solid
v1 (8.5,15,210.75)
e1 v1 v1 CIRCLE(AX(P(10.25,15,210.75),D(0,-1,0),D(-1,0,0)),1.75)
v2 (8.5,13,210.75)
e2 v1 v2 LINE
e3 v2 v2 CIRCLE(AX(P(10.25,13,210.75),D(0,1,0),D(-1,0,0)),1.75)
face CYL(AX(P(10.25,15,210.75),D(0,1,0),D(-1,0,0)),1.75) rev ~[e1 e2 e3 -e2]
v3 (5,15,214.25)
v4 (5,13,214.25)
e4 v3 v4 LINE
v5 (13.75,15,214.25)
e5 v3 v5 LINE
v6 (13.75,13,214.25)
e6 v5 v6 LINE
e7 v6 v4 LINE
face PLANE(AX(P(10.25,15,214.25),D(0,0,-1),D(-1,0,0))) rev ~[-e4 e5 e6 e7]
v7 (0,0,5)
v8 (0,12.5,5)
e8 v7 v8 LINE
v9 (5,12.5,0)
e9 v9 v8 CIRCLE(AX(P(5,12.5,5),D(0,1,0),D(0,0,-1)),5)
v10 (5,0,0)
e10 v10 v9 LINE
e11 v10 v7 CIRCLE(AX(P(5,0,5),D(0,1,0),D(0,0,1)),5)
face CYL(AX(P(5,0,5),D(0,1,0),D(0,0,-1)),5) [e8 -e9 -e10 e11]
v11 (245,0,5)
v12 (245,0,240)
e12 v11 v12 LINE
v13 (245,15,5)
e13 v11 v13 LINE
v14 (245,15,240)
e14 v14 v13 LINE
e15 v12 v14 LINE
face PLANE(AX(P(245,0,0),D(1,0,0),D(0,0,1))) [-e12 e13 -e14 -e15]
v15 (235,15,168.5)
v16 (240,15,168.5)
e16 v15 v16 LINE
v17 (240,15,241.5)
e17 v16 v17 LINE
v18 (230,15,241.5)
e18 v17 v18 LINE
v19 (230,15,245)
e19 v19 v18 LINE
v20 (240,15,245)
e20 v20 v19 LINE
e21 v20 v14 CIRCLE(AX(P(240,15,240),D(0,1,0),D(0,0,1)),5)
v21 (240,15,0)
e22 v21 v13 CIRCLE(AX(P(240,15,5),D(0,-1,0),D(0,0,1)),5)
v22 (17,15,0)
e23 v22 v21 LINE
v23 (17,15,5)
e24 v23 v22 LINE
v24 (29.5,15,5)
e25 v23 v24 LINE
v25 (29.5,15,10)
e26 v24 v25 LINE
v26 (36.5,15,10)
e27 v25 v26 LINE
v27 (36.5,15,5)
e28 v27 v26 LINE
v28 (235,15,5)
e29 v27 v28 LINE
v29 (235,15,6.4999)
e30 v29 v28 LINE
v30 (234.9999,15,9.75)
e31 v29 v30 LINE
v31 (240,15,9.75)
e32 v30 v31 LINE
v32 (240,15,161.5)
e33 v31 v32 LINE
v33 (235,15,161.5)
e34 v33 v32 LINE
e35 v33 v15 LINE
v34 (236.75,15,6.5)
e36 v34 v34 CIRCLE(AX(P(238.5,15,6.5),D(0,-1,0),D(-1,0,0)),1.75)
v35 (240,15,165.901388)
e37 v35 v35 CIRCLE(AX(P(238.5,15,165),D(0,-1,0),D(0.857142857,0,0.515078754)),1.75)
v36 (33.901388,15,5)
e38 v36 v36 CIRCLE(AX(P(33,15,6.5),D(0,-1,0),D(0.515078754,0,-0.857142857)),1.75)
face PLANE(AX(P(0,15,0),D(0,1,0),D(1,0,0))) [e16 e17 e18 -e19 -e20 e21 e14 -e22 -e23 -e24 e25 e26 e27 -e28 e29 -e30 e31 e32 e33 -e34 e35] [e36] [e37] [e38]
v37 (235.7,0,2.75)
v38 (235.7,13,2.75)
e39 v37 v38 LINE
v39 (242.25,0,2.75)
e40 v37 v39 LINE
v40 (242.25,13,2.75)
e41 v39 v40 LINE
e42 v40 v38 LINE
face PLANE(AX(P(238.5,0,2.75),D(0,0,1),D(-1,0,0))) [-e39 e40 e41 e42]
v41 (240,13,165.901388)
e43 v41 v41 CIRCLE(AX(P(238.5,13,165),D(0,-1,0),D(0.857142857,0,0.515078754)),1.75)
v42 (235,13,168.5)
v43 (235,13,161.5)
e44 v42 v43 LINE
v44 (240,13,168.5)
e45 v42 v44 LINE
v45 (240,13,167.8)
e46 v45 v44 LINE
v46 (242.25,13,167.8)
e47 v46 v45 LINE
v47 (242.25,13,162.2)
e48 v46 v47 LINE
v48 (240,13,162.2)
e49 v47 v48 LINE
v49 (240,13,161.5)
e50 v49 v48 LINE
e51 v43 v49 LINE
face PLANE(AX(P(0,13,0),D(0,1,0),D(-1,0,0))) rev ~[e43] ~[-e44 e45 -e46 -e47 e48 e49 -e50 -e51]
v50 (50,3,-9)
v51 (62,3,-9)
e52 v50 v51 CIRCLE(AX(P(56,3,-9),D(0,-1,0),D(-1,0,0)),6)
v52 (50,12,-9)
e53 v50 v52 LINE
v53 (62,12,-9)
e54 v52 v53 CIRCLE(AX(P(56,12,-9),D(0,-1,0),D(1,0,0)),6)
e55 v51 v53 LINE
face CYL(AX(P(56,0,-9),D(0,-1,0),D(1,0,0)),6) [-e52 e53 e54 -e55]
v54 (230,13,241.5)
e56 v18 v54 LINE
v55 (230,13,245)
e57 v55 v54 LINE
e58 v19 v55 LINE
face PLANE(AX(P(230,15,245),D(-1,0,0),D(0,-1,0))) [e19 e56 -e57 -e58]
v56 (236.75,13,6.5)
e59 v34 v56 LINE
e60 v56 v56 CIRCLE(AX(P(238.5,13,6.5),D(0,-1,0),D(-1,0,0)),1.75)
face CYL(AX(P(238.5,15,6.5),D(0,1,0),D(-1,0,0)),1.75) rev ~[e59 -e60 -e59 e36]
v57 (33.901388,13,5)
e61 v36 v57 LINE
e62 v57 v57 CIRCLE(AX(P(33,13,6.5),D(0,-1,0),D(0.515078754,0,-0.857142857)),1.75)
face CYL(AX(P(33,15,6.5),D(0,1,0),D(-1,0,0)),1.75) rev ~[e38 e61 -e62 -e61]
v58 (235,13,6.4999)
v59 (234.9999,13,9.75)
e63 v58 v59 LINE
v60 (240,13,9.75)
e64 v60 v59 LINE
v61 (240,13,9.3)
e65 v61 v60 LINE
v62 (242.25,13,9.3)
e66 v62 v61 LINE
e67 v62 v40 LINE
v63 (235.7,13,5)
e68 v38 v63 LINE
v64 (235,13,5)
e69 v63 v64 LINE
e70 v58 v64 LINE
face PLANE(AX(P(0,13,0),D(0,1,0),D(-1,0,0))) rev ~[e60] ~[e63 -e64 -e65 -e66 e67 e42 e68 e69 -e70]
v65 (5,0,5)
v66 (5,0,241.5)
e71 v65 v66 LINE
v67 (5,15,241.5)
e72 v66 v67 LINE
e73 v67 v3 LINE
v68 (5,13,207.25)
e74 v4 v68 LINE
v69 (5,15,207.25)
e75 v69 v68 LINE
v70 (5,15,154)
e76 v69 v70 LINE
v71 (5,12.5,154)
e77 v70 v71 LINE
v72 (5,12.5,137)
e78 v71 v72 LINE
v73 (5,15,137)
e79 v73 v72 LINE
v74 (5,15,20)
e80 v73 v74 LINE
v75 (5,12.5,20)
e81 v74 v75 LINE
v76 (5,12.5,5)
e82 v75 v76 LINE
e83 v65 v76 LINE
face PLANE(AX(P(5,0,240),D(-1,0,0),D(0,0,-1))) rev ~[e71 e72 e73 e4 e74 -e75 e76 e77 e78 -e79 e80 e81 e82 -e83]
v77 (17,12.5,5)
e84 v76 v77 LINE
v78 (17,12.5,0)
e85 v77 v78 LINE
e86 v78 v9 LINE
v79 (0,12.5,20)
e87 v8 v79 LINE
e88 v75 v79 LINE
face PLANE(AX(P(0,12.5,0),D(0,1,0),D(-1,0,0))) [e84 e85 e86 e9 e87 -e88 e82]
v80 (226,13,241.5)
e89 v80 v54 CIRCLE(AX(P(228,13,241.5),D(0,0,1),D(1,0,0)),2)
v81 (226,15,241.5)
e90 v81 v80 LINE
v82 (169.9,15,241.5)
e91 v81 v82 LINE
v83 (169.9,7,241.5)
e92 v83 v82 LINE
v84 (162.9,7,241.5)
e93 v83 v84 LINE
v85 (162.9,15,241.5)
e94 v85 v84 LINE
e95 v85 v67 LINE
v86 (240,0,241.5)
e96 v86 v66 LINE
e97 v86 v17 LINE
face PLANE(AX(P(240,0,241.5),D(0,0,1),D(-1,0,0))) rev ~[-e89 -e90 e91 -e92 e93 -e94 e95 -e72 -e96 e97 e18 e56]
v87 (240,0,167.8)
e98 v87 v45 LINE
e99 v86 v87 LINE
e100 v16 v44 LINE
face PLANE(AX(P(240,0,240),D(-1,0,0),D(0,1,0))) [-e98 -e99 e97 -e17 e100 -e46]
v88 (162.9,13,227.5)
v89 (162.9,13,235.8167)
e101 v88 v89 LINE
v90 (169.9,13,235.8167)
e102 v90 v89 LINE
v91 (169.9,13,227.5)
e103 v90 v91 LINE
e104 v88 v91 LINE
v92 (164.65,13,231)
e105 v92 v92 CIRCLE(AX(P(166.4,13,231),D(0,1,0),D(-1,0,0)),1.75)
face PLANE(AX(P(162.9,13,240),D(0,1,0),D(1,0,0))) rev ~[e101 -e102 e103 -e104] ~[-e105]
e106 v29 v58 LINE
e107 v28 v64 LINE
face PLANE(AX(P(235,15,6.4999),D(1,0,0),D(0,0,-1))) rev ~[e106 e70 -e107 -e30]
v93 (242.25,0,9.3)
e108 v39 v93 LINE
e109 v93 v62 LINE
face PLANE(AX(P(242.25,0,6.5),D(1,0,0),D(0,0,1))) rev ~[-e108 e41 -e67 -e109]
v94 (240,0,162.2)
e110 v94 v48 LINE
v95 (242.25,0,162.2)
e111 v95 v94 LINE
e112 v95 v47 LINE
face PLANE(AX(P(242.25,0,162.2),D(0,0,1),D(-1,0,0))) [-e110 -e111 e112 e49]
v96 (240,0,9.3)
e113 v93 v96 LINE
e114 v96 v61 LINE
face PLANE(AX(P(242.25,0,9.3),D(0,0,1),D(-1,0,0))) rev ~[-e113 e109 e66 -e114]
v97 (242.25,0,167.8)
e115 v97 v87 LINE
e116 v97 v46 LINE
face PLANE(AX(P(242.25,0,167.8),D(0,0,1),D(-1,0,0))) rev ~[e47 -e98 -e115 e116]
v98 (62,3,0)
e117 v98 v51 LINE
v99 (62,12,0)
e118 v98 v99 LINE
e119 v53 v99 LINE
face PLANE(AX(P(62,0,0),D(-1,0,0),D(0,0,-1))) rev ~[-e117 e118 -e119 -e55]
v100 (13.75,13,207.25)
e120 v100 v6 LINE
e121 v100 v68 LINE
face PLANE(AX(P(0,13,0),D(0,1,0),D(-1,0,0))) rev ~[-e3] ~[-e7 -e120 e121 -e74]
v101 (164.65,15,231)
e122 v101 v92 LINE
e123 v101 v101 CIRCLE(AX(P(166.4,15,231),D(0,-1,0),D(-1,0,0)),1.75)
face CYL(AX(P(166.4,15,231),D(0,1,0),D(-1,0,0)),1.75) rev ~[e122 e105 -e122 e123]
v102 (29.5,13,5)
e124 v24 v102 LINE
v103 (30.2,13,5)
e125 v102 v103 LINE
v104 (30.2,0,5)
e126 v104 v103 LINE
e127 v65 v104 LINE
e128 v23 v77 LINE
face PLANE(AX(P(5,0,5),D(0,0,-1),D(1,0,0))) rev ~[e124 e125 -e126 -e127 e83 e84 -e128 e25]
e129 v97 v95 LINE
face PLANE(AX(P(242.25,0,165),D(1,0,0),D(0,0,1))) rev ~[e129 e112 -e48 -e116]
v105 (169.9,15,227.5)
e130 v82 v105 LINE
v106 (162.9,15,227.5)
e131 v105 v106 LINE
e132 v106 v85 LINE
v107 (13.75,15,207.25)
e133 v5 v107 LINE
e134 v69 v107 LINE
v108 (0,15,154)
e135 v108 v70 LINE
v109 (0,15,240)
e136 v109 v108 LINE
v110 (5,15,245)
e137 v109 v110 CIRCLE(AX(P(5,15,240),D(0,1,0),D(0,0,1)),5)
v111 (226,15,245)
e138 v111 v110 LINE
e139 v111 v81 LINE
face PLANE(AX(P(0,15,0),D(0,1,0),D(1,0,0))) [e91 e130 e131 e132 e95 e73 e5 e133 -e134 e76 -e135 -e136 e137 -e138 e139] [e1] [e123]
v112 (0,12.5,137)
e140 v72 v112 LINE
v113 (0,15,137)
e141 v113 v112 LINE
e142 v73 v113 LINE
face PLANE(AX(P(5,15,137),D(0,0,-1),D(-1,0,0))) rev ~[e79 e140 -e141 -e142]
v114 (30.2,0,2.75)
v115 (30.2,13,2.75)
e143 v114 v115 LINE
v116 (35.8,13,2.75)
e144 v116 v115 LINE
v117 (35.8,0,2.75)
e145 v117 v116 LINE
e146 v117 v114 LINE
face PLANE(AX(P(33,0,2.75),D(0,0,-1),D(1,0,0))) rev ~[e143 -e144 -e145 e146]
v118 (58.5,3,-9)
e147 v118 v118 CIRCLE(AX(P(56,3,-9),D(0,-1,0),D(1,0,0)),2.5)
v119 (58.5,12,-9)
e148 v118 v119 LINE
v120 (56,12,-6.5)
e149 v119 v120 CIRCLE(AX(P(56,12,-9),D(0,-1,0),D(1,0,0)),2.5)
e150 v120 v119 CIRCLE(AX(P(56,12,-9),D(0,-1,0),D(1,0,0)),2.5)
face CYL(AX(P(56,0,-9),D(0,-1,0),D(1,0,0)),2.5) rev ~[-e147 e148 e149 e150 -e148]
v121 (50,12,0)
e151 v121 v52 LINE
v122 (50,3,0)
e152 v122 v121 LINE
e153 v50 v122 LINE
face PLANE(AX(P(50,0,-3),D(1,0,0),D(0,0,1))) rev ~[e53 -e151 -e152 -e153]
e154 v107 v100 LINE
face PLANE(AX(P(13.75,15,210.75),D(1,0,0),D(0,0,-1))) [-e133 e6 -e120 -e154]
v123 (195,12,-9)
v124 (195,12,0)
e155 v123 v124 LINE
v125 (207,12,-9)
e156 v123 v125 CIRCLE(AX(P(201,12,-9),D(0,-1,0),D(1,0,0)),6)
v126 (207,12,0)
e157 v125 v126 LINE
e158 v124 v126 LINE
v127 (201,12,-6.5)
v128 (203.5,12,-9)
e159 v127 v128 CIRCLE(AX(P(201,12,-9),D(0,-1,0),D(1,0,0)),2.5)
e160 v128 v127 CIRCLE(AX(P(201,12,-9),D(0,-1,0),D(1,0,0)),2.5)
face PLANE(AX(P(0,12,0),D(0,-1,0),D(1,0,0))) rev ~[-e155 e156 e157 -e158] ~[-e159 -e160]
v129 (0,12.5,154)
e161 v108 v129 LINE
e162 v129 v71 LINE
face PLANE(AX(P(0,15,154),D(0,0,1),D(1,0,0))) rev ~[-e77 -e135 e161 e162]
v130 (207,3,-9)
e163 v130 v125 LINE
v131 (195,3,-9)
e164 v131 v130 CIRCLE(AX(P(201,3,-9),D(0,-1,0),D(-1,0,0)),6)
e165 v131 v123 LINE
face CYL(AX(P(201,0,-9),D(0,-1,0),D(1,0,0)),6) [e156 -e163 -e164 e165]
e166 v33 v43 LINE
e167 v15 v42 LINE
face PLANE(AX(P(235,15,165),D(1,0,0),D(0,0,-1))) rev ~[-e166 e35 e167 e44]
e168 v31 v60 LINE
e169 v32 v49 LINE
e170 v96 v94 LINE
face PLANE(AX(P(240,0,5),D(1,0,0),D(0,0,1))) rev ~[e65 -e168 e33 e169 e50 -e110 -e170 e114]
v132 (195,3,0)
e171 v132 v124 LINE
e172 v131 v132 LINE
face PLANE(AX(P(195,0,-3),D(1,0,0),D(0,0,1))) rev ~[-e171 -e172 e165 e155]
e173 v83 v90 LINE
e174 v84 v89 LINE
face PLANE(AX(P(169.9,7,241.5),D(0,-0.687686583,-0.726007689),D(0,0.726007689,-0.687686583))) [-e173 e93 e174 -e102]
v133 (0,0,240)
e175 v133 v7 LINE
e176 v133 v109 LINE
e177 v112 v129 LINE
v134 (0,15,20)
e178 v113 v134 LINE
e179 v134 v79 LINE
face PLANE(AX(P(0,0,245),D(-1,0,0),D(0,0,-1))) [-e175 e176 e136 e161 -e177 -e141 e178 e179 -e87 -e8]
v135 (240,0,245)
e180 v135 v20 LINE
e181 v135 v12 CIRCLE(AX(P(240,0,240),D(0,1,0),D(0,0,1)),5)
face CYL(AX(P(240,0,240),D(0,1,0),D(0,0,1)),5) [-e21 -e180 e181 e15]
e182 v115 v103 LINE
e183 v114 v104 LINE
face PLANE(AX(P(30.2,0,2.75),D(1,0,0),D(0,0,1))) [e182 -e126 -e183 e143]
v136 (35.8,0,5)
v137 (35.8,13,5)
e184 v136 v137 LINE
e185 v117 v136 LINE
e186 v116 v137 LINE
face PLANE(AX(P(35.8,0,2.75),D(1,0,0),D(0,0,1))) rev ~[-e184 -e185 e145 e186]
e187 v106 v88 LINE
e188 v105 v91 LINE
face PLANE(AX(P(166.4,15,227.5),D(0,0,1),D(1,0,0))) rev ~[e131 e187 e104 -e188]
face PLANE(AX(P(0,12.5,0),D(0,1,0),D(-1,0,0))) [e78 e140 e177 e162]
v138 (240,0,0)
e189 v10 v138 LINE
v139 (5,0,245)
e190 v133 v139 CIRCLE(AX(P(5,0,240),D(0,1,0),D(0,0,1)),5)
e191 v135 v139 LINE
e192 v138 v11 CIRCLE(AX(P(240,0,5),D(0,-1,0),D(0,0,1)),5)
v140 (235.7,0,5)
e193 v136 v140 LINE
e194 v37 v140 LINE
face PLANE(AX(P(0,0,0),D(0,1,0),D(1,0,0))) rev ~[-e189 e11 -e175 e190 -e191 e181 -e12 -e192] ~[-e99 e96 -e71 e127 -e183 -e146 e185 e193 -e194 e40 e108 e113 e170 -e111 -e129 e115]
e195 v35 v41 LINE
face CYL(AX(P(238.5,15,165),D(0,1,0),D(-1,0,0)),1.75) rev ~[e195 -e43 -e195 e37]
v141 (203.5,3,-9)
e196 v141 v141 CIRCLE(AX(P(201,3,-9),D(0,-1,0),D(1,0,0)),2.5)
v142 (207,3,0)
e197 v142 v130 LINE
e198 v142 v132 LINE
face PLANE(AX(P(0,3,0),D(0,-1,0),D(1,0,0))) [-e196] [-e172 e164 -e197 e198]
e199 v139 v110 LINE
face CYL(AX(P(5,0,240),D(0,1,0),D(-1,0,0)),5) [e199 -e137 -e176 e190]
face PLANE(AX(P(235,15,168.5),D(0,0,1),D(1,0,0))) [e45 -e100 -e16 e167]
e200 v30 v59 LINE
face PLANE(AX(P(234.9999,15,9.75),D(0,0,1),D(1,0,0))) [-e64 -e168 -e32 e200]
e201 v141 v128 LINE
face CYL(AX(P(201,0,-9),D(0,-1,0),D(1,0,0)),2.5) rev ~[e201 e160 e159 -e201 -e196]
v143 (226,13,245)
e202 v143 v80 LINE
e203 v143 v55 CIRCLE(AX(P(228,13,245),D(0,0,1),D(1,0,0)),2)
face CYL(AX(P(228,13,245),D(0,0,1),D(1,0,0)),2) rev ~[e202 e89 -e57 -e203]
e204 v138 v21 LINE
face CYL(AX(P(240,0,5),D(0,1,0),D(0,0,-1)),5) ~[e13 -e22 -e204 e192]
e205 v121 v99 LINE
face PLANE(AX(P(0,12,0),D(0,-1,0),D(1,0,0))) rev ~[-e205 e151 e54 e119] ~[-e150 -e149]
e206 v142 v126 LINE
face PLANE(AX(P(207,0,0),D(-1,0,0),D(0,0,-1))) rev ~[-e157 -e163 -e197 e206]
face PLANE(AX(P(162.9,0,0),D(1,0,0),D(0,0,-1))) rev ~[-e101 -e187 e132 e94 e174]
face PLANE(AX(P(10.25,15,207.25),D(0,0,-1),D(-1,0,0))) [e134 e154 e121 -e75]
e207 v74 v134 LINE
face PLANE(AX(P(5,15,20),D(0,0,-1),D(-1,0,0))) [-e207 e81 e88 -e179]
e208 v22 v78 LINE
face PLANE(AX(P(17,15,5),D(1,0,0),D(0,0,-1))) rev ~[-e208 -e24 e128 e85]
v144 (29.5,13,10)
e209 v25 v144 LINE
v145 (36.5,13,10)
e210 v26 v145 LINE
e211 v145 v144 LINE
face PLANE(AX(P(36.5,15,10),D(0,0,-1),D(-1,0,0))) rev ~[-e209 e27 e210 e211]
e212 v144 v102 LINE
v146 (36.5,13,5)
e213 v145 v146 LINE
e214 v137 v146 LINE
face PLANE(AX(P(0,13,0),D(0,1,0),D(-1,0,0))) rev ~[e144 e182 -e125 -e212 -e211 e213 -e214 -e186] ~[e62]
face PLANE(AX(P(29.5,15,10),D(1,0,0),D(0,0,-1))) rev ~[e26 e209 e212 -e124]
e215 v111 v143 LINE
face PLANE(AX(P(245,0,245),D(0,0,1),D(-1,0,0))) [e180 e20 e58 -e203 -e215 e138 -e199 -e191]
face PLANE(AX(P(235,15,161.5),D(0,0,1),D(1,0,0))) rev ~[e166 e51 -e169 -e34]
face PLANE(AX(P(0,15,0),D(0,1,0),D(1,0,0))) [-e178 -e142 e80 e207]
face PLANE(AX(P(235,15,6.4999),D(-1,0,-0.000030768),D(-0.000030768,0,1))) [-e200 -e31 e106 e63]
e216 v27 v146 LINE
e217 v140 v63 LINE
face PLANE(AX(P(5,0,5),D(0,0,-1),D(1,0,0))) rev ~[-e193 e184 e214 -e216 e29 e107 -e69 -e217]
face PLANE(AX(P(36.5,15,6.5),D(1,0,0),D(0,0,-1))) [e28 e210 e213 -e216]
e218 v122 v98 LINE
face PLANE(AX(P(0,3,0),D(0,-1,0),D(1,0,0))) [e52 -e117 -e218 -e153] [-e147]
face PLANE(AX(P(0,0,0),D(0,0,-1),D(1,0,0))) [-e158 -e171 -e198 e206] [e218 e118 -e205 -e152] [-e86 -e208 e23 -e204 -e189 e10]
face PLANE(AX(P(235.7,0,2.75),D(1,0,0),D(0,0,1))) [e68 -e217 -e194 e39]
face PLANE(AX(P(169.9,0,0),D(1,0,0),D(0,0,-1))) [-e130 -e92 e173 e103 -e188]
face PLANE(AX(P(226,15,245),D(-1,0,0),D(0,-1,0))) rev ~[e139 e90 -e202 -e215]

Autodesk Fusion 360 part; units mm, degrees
sketch "Sketch1" plane through (0, 0, 0) normal (0, 1, 0) x (1, 0, 0)
  line L0 (0, 0) -> (245, 0)
  line L1 (245, 0) -> (245, -245)
  line L2 (245, -245) -> (0, -245)
  line L3 (0, -245) -> (0, 0)
  line L4 (0, 0) -> (5, 0)
  line L5 (5, 0) -> (5, -5)
  line L6 (245, -245) -> (245, -250)
  line L7 (245, -240) -> (240, -240)
  line L8 (240, -240) -> (5, -240)
  line L9 (5, -240) -> (5, -5)
  line L10 (5, -5) -> (240, -5)
  line L11 (240, -5) -> (240, -240)
  dimension "d1" = 245
  dimension "d2" = 245
  dimension "d3" = 5
  dimension "d4" = 5
  dimension "d5" = 5
extrude "Extrude1" add sketch "Sketch1" along normal blind 15 contours L0 L1 L2 L3 L4 L5 L7 L8 L9 | L0 L1 L5 L7 L10 L11
fillet "Fillet1" radius 5 4 edges at (0, 7.5, 0) (245, 7.5, 0) (0, 7.5, 245) (245, 7.5, 245)
sketch "Sketch2" plane through (0, 15, 0) normal (0, 1, 0) x (-1, 0, 0)
  line L0 (-5, 5) -> (-240, 5)
  line L1 (-240, 5) -> (-240, 240)
  line L2 (-240, 240) -> (-5, 240)
  line L3 (-5, 240) -> (-5, 5)
  arc A0 (-240, 245) -> (-245, 240) centre (-240, 240) ccw
  line L4 (-245, 240) -> (-245, 5)
  arc A1 (-245, 5) -> (-240, 0) centre (-240, 5) ccw
  line L5 (-240, 0) -> (-5, 0)
  arc A2 (-5, 0) -> (0, 5) centre (-5, 5) ccw
  line L6 (0, 5) -> (0, 240)
  arc A3 (0, 240) -> (-5, 245) centre (-5, 240) ccw
  line L7 (-5, 245) -> (-240, 245)
  line L8 (-245, 6.2462) -> (-238.5, 6.2462)
  line L9 (-238.7853, 0) -> (-238.7853, 6.5)
  line L10 (-238.7853, 6.5) -> (-238.5, 6.5)
  line L11 (-238.5, 6.5) -> (-238.5, 6.2462)
  circle A4 centre (-238.5, 6.5) radius 1.75
  line L12 (-20, 0) -> (-20, 6.5)
  line L13 (-20, 6.5) -> (3, 6.5)
  line L14 (0, 6.5) -> (-33, 6.5)
  circle A5 centre (-33, 6.5) radius 1.75
  line L15 (-238.5, 8.25) -> (-238.5, 9.75)
  line L16 (-238.5, 6.5) -> (-235, 6.4999)
  line L17 (-238.5, 9.75) -> (-240, 9.75)
  line L18 (-235, 6.4999) -> (-234.9999, 9.75)
  line L19 (-234.9999, 9.75) -> (-238.5, 9.75)
  line L20 (-235, 6.4999) -> (-235, 5)
  line L21 (-235, 5) -> (-240, 5)
  line L22 (-33, 6.5) -> (-33, 10)
  line L23 (-33, 6.5) -> (-36.5, 6.5)
  line L24 (-33, 6.5) -> (-36.5, 6.5)
  line L25 (-36.5, 6.5) -> (-36.5, 10)
  line L26 (-36.5, 10) -> (-33, 10)
  line L27 (-33, 10) -> (-29.5, 10)
  line L28 (-29.5, 10) -> (-29.5, 5)
  line L29 (-36.5, 6.5) -> (-36.5, 5)
  line L30 (0, 235) -> (-10.25, 235)
  line L31 (-10.25, 235) -> (-10.25, 245)
  line L32 (-10.25, 245) -> (-10.25, 210.75)
  circle A6 centre (-10.25, 210.75) radius 1.75
  line L33 (-10.25, 210.75) -> (-10.25, 207.25)
  line L34 (-10.25, 210.75) -> (-13.75, 210.75)
  line L35 (-10.25, 210.75) -> (-10.25, 207.25)
  line L36 (-10.25, 210.75) -> (-10.25, 214.25)
  line L37 (-10.25, 214.25) -> (-13.75, 214.25)
  line L38 (-13.75, 214.25) -> (-13.75, 210.75)
  line L39 (-13.75, 210.75) -> (-13.75, 207.25)
  line L40 (-13.75, 207.25) -> (-5, 207.25)
  line L41 (-10.25, 214.25) -> (-5, 214.25)
  line L42 (-198.5173, 245) -> (-198.5173, 238.5)
  line L43 (-245, 237.9591) -> (-166.4, 237.9591)
  line L44 (-166.4, 237.9591) -> (-166.4, 245)
  line L45 (-166.4, 245) -> (-166.4, 231)
  circle A7 centre (-166.4, 231) radius 1.75
  line L46 (-166.4, 231) -> (-166.4, 227.5)
  line L47 (-166.4, 227.5) -> (-162.9, 227.5)
  line L48 (-166.4, 227.5) -> (-169.9, 227.5)
  line L49 (-169.9, 227.5) -> (-169.9, 240)
  line L50 (-162.9, 227.5) -> (-162.9, 240)
  line L51 (-240, 245) -> (-240, 165)
  line L52 (-240, 165) -> (-245, 165)
  line L53 (-245, 165) -> (-238.5, 165)
  circle A8 centre (-238.5, 165) radius 1.75
  line L54 (-238.5, 165) -> (-235, 165)
  line L55 (-235, 165) -> (-235, 161.5)
  line L56 (-235, 165) -> (-235, 168.5)
  line L57 (-235, 168.5) -> (-240, 168.5)
  line L58 (-235, 161.5) -> (-240, 161.5)
  line L59 (-5, 245) -> (-5, 154)
  line L60 (-5, 154) -> (-5, 137)
  line L61 (-5, 137) -> (0, 137)
  line L62 (0, 154) -> (-5, 154)
  line L63 (0, 154) -> (0, 137)
  dimension "d9" = 6.5
  dimension "d10" = 6.5
  dimension "d11" = 3.5
  dimension "d12" = 6.5
  dimension "d13" = 33
  dimension "d14" = 3.5
  dimension "d15" = 1.5
  dimension "d16" = 3.5
  dimension "d21" = 3.5
  dimension "d22" = 3.5
  dimension "d23" = 3.5
  dimension "d24" = 3.5
  dimension "d29" = 10.25
  dimension "d30" = 34.25
  dimension "d31" = 3.5
  dimension "d32" = 3.5
  dimension "d33" = 3.5
  dimension "d34" = 3.5
  dimension "d35" = 3.5
  dimension "d36" = 3.5
  dimension "d37" = 3.5
  dimension "d40" = 6.5
  dimension "d41" = 78.6
  dimension "d42" = 14
  dimension "d43" = 3.5
  dimension "d44" = 3.5
  dimension "d45" = 3.5
  dimension "d46" = 3.5
  dimension "d49" = 80
  dimension "d50" = 6.5
  dimension "d51" = 3.5
  dimension "d52" = 3.5
  dimension "d53" = 3.5
  dimension "d54" = 3.5
  dimension "d55" = 90
  dimension "d82" = 91
  dimension "d83" = 17
extrude "Extrude16" cut sketch "Sketch2" against normal blind 2.5 contours L3 L6 L60 L61 L62 L63
extrude "Extrude8" add sketch "Sketch2" against normal blind 2 contours L1 A8 L54 L55 L58 | L1 L51 A8 L54 L56 L57
extrude "Extrude7" add sketch "Sketch2" against normal blind 2 contours L2 L43 L44 L45 L49 | L43 L45 A7 L46 L48 L49 | L2 L44 L45 A7 L46 L47 L50
extrude "Extrude6" add sketch "Sketch2" against normal blind 2 contours L3 L32 A6 L33 L35 L36 L40 L41 L59 | A6 L33 L34 L35 L39 L40 | L32 A6 L34 L36 L37 L38
extrude "Extrude4" add sketch "Sketch2" against normal blind 2 contours L0 A5 L23 L24 L29 | A5 L22 L23 L24 L25 L26 | L0 L14 A5 L28 | L14 A5 L22 L27 L28
extrude "Extrude2" add sketch "Sketch2" against normal blind 2 contours L0 A4 L16 L20 L21 | L0 L8 L9 L11 A4 L16 L21 | A4 L15 L16 L18 L19 | L0 L1 L8 L9 A4 L21 | L1 L8 L9 L10 A4 L16 | L0 L1 A4 L21 | L8 L9 L10 L11 | L1 A4 L15 L17
extrude "Extrude3" cut sketch "Sketch2" against normal blind 5 contours L0 L9 A4 L21 | L0 L8 L9 L11 A4 L16 L21 | L0 L9 A4 L21 | L0 L1 L8 L9 A4 L21 | L1 L8 L9 L10 A4 L16 | L8 L9 L10 L11 | L1 L8 A4 | L1 L8 A4
extrude "Extrude5" cut sketch "Sketch2" against normal blind 5 contours L0 A5
sketch "Sketch3" plane through (0, 0, 0) normal (0, -1, 0) x (1, 0, 0)
  arc A0 (245, 240) -> (240, 245) centre (240, 240) ccw
  line L0 (240, 245) -> (5, 245)
  arc A1 (5, 245) -> (0, 240) centre (5, 240) ccw
  line L1 (0, 240) -> (0, 5)
  arc A2 (0, 5) -> (5, 0) centre (5, 5) ccw
  line L2 (5, 0) -> (240, 0)
  arc A3 (240, 0) -> (245, 5) centre (240, 5) ccw
  line L3 (245, 5) -> (245, 240)
  line L4 (240, 5) -> (5, 5)
  line L5 (5, 5) -> (5, 240)
  line L6 (5, 240) -> (240, 240)
  line L7 (240, 240) -> (240, 5)
  line L8 (240.25, 165) -> (242.25, 165)
  line L9 (242.25, 165) -> (242.25, 167.8)
  line L10 (242.25, 165) -> (242.25, 162.2)
  line L11 (242.25, 167.8) -> (240, 167.8)
  line L12 (242.25, 162.2) -> (240, 162.2)
  line L13 (240, 167.8) -> (240, 162.2)
  dimension "d58" = 2
  dimension "d59" = 2.8
  dimension "d60" = 2.8
extrude "Extrude10" cut sketch "Sketch3" against normal up to surface (13 mm away) contours L7 L9 L10 L11 L12 L13
extrude "Extrude9" cut sketch "Sketch2" against normal blind 10 contours L1 L52 L53 A8 | L1 L51 L52 L53 A8
sketch "Sketch4" plane through (0, 0, 0) normal (0, -1, 0) x (1, 0, 0)
  line L0 (240, 167.8) -> (242.25, 167.8)
  line L1 (242.25, 167.8) -> (242.25, 162.2)
  line L2 (242.25, 162.2) -> (240, 162.2)
  line L3 (240, 162.2) -> (240, 5)
  line L4 (240, 5) -> (5, 5)
  line L5 (5, 5) -> (5, 240)
  line L6 (5, 240) -> (240, 240)
  line L7 (240, 240) -> (240, 167.8)
  arc A0 (245, 240) -> (240, 245) centre (240, 240) ccw
  line L8 (240, 245) -> (5, 245)
  arc A1 (5, 245) -> (0, 240) centre (5, 240) ccw
  line L9 (0, 240) -> (0, 5)
  arc A2 (0, 5) -> (5, 0) centre (5, 5) ccw
  line L10 (5, 0) -> (240, 0)
  arc A3 (240, 0) -> (245, 5) centre (240, 5) ccw
  line L11 (245, 5) -> (245, 240)
  line L12 (33, 4.75) -> (33, 2.75)
  line L13 (33, 2.75) -> (35.8, 2.75)
  line L14 (33, 2.75) -> (30.2, 2.75)
  line L15 (30.2, 2.75) -> (30.2, 5)
  line L16 (35.8, 2.75) -> (35.8, 5)
  line L17 (30.2, 5) -> (35.8, 5)
  dimension "d65" = 2
  dimension "d66" = 2.8
  dimension "d67" = 2.8
extrude "Extrude11" cut sketch "Sketch4" against normal up to surface (13 mm away) contours L4 L13 L14 L15 L16 L17
sketch "Sketch5" plane through (0, 0, 0) normal (0, -1, 0) x (1, 0, 0)
  line L0 (30.2, 2.75) -> (30.2, 5)
  line L1 (30.2, 5) -> (5, 5)
  line L2 (5, 5) -> (5, 240)
  line L3 (5, 240) -> (240, 240)
  line L4 (240, 240) -> (240, 167.8)
  line L5 (240, 167.8) -> (242.25, 167.8)
  line L6 (242.25, 167.8) -> (242.25, 162.2)
  line L7 (242.25, 162.2) -> (240, 162.2)
  line L8 (240, 162.2) -> (240, 5)
  line L9 (240, 5) -> (35.8, 5)
  line L10 (35.8, 5) -> (35.8, 2.75)
  line L11 (35.8, 2.75) -> (30.2, 2.75)
  arc A0 (245, 240) -> (240, 245) centre (240, 240) ccw
  line L12 (240, 245) -> (5, 245)
  arc A1 (5, 245) -> (0, 240) centre (5, 240) ccw
  line L13 (0, 240) -> (0, 5)
  arc A2 (0, 5) -> (5, 0) centre (5, 5) ccw
  line L14 (5, 0) -> (240, 0)
  arc A3 (240, 0) -> (245, 5) centre (240, 5) ccw
  line L15 (245, 5) -> (245, 240)
  line L16 (238.5, 4.75) -> (238.5, 2.75)
  line L17 (238.5, 2.75) -> (235.7, 2.75)
  line L18 (235.7, 2.75) -> (235.7, 5)
  line L19 (240.25, 6.5) -> (242.25, 6.5)
  line L20 (242.25, 6.5) -> (242.25, 9.3)
  line L21 (242.25, 6.5) -> (242.25, 2)
  line L22 (238.5, 2.75) -> (242.25, 2.75)
  line L23 (235.7, 5) -> (239, 5)
  line L24 (242.25, 9.3) -> (240, 9.3)
  line L25 (240, 5.8883) -> (239, 5)
  dimension "d70" = 2
  dimension "d71" = 2.8
  dimension "d72" = 2
  dimension "d73" = 2.8
extrude "Extrude12" cut sketch "Sketch5" against normal up to surface (13 mm away) contours L8 L9 L17 L18 L20 L21 L22 L23 L24 | L8 L9 L25
sketch "Sketch6" plane through (0, 0, 0) normal (-1, 0, 0) x (0, 0, 1)
  line L0 (240, 0) -> (240, 15)
  line L1 (137, 15) -> (5, 15)
  line L2 (5, 15) -> (5, 0)
  line L3 (5, 0) -> (240, 0)
  line L4 (240, 10) -> (122.5, 10)
  line L5 (122.5, 10) -> (122.5, 23)
  line L6 (122.5, 10) -> (122.5, -7.4415)
  line L7 (122.5, -7.4415) -> (-12.4248, -7.4415)
  line L8 (-12.4248, -7.4415) -> (-12.4248, 20)
  line L9 (-12.4248, 20) -> (122.5, 23)
  line L10 (154, 15) -> (154, 12.5)
  line L11 (154, 12.5) -> (137, 12.5)
  line L12 (137, 12.5) -> (137, 15)
  line L13 (240, 15) -> (154, 15)
extrude "Extrude14" cut 1 faces at (57.6333, 9.3333, 240) along direction (0, 0, 1) blind 1.5
sketch "Sketch7" plane through (169.9, 0, 0) normal (1, 0, 0) x (0, 0, -1)
  line L0 (-227.5, 15) -> (-241.5, 15)
  line L1 (-241.5, 15) -> (-241.5, 13)
  line L2 (-241.5, 13) -> (-227.5, 13)
  line L3 (-227.5, 13) -> (-227.5, 15)
  line L4 (-235.8167, 13) -> (-241.5, 13)
  line L5 (-241.5, 13) -> (-241.5, 9)
  line L6 (-241.5, 9) -> (-241.5, 7)
  line L7 (-241.5, 7) -> (-235.8167, 13)
extrude "Extrude15" add sketch "Sketch7" against normal blind 7 contours L2 L4 L5 L6 L7
sketch "Sketch8" plane through (0, 15, 0) normal (0, 1, 0) x (-1, 0, 0)
  line L0 (-169.9, 241.5) -> (-169.9, 227.5)
  line L1 (-169.9, 227.5) -> (-162.9, 227.5)
  line L2 (-162.9, 227.5) -> (-162.9, 241.5)
  line L3 (-162.9, 241.5) -> (-5, 241.5)
  line L4 (-5, 241.5) -> (-5, 214.25)
  line L5 (-5, 214.25) -> (-13.75, 214.25)
  line L6 (-13.75, 214.25) -> (-13.75, 207.25)
  line L7 (-13.75, 207.25) -> (-5, 207.25)
  line L8 (-5, 207.25) -> (-5, 154)
  line L9 (-5, 154) -> (0, 154)
  line L10 (0, 154) -> (0, 240)
  arc A0 (0, 240) -> (-5, 245) centre (-5, 240) ccw
  line L11 (-5, 245) -> (-240, 245)
  arc A1 (-240, 245) -> (-245, 240) centre (-240, 240) ccw
  line L12 (-245, 240) -> (-245, 5)
  arc A2 (-245, 5) -> (-240, 0) centre (-240, 5) ccw
  line L13 (-240, 0) -> (-5, 0)
  arc A3 (-5, 0) -> (0, 5) centre (-5, 5) ccw
  line L14 (0, 5) -> (0, 137)
  line L15 (0, 137) -> (-5, 137)
  line L16 (-5, 137) -> (-5, 5)
  line L17 (-5, 5) -> (-29.5, 5)
  line L18 (-29.5, 5) -> (-29.5, 10)
  line L19 (-29.5, 10) -> (-33, 10)
  line L20 (-33, 10) -> (-36.5, 10)
  line L21 (-36.5, 10) -> (-36.5, 5)
  line L22 (-36.5, 5) -> (-235, 5)
  line L23 (-235, 5) -> (-235, 6.4999)
  line L24 (-235, 6.4999) -> (-234.9999, 9.75)
  line L25 (-234.9999, 9.75) -> (-240, 9.75)
  line L26 (-240, 9.75) -> (-240, 161.5)
  line L27 (-240, 161.5) -> (-235, 161.5)
  line L28 (-235, 161.5) -> (-235, 168.5)
  line L29 (-235, 168.5) -> (-240, 168.5)
  line L30 (-240, 168.5) -> (-240, 241.5)
  line L31 (-240, 241.5) -> (-169.9, 241.5)
  circle A4 centre (-238.5, 165) radius 1.75
  circle A5 centre (-166.4, 231) radius 1.75
  circle A6 centre (-10.25, 210.75) radius 1.75
  circle A7 centre (-238.5, 6.5) radius 1.75
  circle A8 centre (-33, 6.5) radius 1.75
  line L32 (0, 5) -> (-17, 5)
  line L33 (-17, 0) -> (0, 0)
  line L34 (0, 0) -> (0, 5)
  line L35 (-17, 5) -> (-17, 0)
  dimension "d86" = 17
extrude "Extrude17" cut sketch "Sketch8" against normal blind 2.5 contours L13 A3 L17 L32 L33 L35
sketch "Sketch9" plane through (0, 15, 0) normal (0, 1, 0) x (-1, 0, 0)
  line L0 (-5, 5) -> (0, 5)
  line L1 (0, 5) -> (0, 137)
  line L2 (0, 137) -> (-5, 137)
  line L3 (-5, 137) -> (-5, 5)
  line L4 (0, 0) -> (0, 20)
  line L5 (-5, 20) -> (0, 20)
  line L6 (-5, 20) -> (-5, 0)
  line L7 (-5, 0) -> (0, 0)
  dimension "d89" = 20
extrude "Extrude18" cut sketch "Sketch9" against normal blind 2.5 contours L0 L1 L3 L4 L5 L6
sketch "Sketch10" plane through (0, 0, 0) normal (0, -1, 0) x (1, 0, 0)
  line L0 (240, 241.5) -> (240, 167.8)
  line L1 (240, 167.8) -> (242.25, 167.8)
  line L2 (242.25, 167.8) -> (242.25, 162.2)
  line L3 (242.25, 162.2) -> (240, 162.2)
  line L4 (240, 162.2) -> (240, 9.3)
  line L5 (240, 9.3) -> (242.25, 9.3)
  line L6 (242.25, 9.3) -> (242.25, 2.75)
  line L7 (242.25, 2.75) -> (235.7, 2.75)
  line L8 (235.7, 2.75) -> (235.7, 5)
  line L9 (235.7, 5) -> (35.8, 5)
  line L10 (35.8, 5) -> (35.8, 2.75)
  line L11 (35.8, 2.75) -> (30.2, 2.75)
  line L12 (30.2, 2.75) -> (30.2, 5)
  line L13 (30.2, 5) -> (5, 5)
  line L14 (5, 5) -> (5, 241.5)
  line L15 (5, 241.5) -> (240, 241.5)
  arc A0 (245, 240) -> (240, 245) centre (240, 240) ccw
  line L16 (240, 245) -> (5, 245)
  arc A1 (5, 245) -> (0, 240) centre (5, 240) ccw
  line L17 (0, 240) -> (0, 5)
  arc A2 (0, 5) -> (5, 0) centre (5, 5) ccw
  line L18 (5, 0) -> (240, 0)
  arc A3 (240, 0) -> (245, 5) centre (240, 5) ccw
  line L19 (245, 5) -> (245, 240)
  line L20 (245, 0) -> (195, 0)
  line L21 (195, 0) -> (207, 0)
  line L22 (207, 0) -> (207, -3)
  line L23 (207, -3) -> (195, -3)
  line L24 (195, -3) -> (195, 0)
  line L25 (201, -3) -> (201, -9)
  circle A4 centre (201, -9) radius 2.5
  circle A5 centre (201, -9) radius 6
  line L26 (207, -3) -> (207, -9)
  line L27 (195, -3) -> (195, -9)
  dimension "d92" = 50
  dimension "d93" = 12
  dimension "d94" = 3
  dimension "d95" = 6
  dimension "d96" = 5
extrude "Extrude19" add sketch "Sketch10" against normal blind 12 contours L18 L20 L21 L22 L23 L24 | L23 A5 L26 | L23 A5 L27 | A5
sketch "Sketch13" plane through (0, 0, 0) normal (0, -1, 0) x (1, 0, 0)
  circle A0 centre (201, -9) radius 2.5
  line L0 (240, 241.5) -> (240, 167.8)
  line L1 (240, 167.8) -> (242.25, 167.8)
  line L2 (242.25, 167.8) -> (242.25, 162.2)
  line L3 (242.25, 162.2) -> (240, 162.2)
  line L4 (240, 162.2) -> (240, 9.3)
  line L5 (240, 9.3) -> (242.25, 9.3)
  line L6 (242.25, 9.3) -> (242.25, 2.75)
  line L7 (242.25, 2.75) -> (235.7, 2.75)
  line L8 (235.7, 2.75) -> (235.7, 5)
  line L9 (235.7, 5) -> (35.8, 5)
  line L10 (35.8, 5) -> (35.8, 2.75)
  line L11 (35.8, 2.75) -> (30.2, 2.75)
  line L12 (30.2, 2.75) -> (30.2, 5)
  line L13 (30.2, 5) -> (5, 5)
  line L14 (5, 5) -> (5, 241.5)
  line L15 (5, 241.5) -> (240, 241.5)
  arc A1 (245, 240) -> (240, 245) centre (240, 240) ccw
  line L16 (240, 245) -> (5, 245)
  arc A2 (5, 245) -> (0, 240) centre (5, 240) ccw
  line L17 (0, 240) -> (0, 5)
  arc A3 (0, 5) -> (5, 0) centre (5, 5) ccw
  line L18 (5, 0) -> (195, 0)
  line L19 (195, 0) -> (195, -3)
  line L20 (195, -3) -> (195, -9)
  arc A4 (195, -9) -> (207, -9) centre (201, -9) ccw
  line L21 (207, -9) -> (207, -3)
  line L22 (207, -3) -> (207, 0)
  line L23 (207, 0) -> (240, 0)
  arc A5 (240, 0) -> (245, 5) centre (240, 5) ccw
  line L24 (245, 5) -> (245, 240)
sketch "Sketch11" plane through (0, 0, 0) normal (0, -1, 0) x (1, 0, 0)
  circle A0 centre (201, -9) radius 2.5
  line L0 (240, 241.5) -> (240, 167.8)
  line L1 (240, 167.8) -> (242.25, 167.8)
  line L2 (242.25, 167.8) -> (242.25, 162.2)
  line L3 (242.25, 162.2) -> (240, 162.2)
  line L4 (240, 162.2) -> (240, 9.3)
  line L5 (240, 9.3) -> (242.25, 9.3)
  line L6 (242.25, 9.3) -> (242.25, 2.75)
  line L7 (242.25, 2.75) -> (235.7, 2.75)
  line L8 (235.7, 2.75) -> (235.7, 5)
  line L9 (235.7, 5) -> (35.8, 5)
  line L10 (35.8, 5) -> (35.8, 2.75)
  line L11 (35.8, 2.75) -> (30.2, 2.75)
  line L12 (30.2, 2.75) -> (30.2, 5)
  line L13 (30.2, 5) -> (5, 5)
  line L14 (5, 5) -> (5, 241.5)
  line L15 (5, 241.5) -> (240, 241.5)
  arc A1 (245, 240) -> (240, 245) centre (240, 240) ccw
  line L16 (240, 245) -> (5, 245)
  arc A2 (5, 245) -> (0, 240) centre (5, 240) ccw
  line L17 (0, 240) -> (0, 5)
  arc A3 (0, 5) -> (5, 0) centre (5, 5) ccw
  line L18 (5, 0) -> (195, 0)
  line L19 (195, 0) -> (195, -3)
  line L20 (195, -3) -> (195, -9)
  arc A4 (195, -9) -> (207, -9) centre (201, -9) ccw
  line L21 (207, -9) -> (207, -3)
  line L22 (207, -3) -> (207, 0)
  line L23 (207, 0) -> (240, 0)
  arc A5 (240, 0) -> (245, 5) centre (240, 5) ccw
  line L24 (245, 5) -> (245, 240)
  line L25 (207, 0) -> (195, 0)
extrude "Extrude20" cut sketch "Sketch11" against normal blind 3 contours L19 L20 A4 L21 L22 L25
sketch "Sketch12" plane through (0, 0, 0) normal (0, -1, 0) x (1, 0, 0)
  line L0 (5, 0) -> (240, 0)
  arc A0 (240, 0) -> (245, 5) centre (240, 5) ccw
  line L1 (245, 5) -> (245, 240)
  arc A1 (245, 240) -> (240, 245) centre (240, 240) ccw
  line L2 (240, 245) -> (5, 245)
  arc A2 (5, 245) -> (0, 240) centre (5, 240) ccw
  line L3 (0, 240) -> (0, 5)
  arc A3 (0, 5) -> (5, 0) centre (5, 5) ccw
  line L4 (240, 241.5) -> (240, 167.8)
  line L5 (240, 167.8) -> (242.25, 167.8)
  line L6 (242.25, 167.8) -> (242.25, 162.2)
  line L7 (242.25, 162.2) -> (240, 162.2)
  line L8 (240, 162.2) -> (240, 9.3)
  line L9 (240, 9.3) -> (242.25, 9.3)
  line L10 (242.25, 9.3) -> (242.25, 2.75)
  line L11 (242.25, 2.75) -> (235.7, 2.75)
  line L12 (235.7, 2.75) -> (235.7, 5)
  line L13 (235.7, 5) -> (35.8, 5)
  line L14 (35.8, 5) -> (35.8, 2.75)
  line L15 (35.8, 2.75) -> (30.2, 2.75)
  line L16 (30.2, 2.75) -> (30.2, 5)
  line L17 (30.2, 5) -> (5, 5)
  line L18 (5, 5) -> (5, 241.5)
  line L19 (5, 241.5) -> (240, 241.5)
  line L20 (0, 0) -> (50, 0)
  line L21 (50, 0) -> (62, 0)
  line L22 (62, 0) -> (62, -3)
  line L23 (62, -3) -> (50, -3)
  line L24 (50, -3) -> (50, 0)
  line L25 (56, -3) -> (56, -9)
  circle A4 centre (56, -9) radius 2.5
  circle A5 centre (56, -9) radius 6
  line L26 (50, -3) -> (50, -9)
  line L27 (62, -3) -> (62, -9)
  dimension "d101" = 50
  dimension "d102" = 12
  dimension "d103" = 3
  dimension "d104" = 6
  dimension "d105" = 5
extrude "Extrude21" add sketch "Sketch12" against normal blind 12 contours L0 L21 L22 L23 L24 | L23 A5 L26 | L23 A5 L27 | A5
sketch "Sketch14" plane through (0, 0, 0) normal (0, -1, 0) x (1, 0, 0)
  circle A0 centre (56, -9) radius 2.5
  line L0 (5, 0) -> (50, 0)
  line L1 (50, 0) -> (50, -3)
  line L2 (50, -3) -> (50, -9)
  arc A1 (50, -9) -> (62, -9) centre (56, -9) ccw
  line L3 (62, -9) -> (62, -3)
  line L4 (62, -3) -> (62, 0)
  line L5 (62, 0) -> (240, 0)
  arc A2 (240, 0) -> (245, 5) centre (240, 5) ccw
  line L6 (245, 5) -> (245, 240)
  arc A3 (245, 240) -> (240, 245) centre (240, 240) ccw
  line L7 (240, 245) -> (5, 245)
  arc A4 (5, 245) -> (0, 240) centre (5, 240) ccw
  line L8 (0, 240) -> (0, 5)
  arc A5 (0, 5) -> (5, 0) centre (5, 5) ccw
  line L9 (240, 241.5) -> (240, 167.8)
  line L10 (240, 167.8) -> (242.25, 167.8)
  line L11 (242.25, 167.8) -> (242.25, 162.2)
  line L12 (242.25, 162.2) -> (240, 162.2)
  line L13 (240, 162.2) -> (240, 9.3)
  line L14 (240, 9.3) -> (242.25, 9.3)
  line L15 (242.25, 9.3) -> (242.25, 2.75)
  line L16 (242.25, 2.75) -> (235.7, 2.75)
  line L17 (235.7, 2.75) -> (235.7, 5)
  line L18 (235.7, 5) -> (35.8, 5)
  line L19 (35.8, 5) -> (35.8, 2.75)
  line L20 (35.8, 2.75) -> (30.2, 2.75)
  line L21 (30.2, 2.75) -> (30.2, 5)
  line L22 (30.2, 5) -> (5, 5)
  line L23 (5, 5) -> (5, 241.5)
  line L24 (5, 241.5) -> (240, 241.5)
  line L25 (50, 0) -> (62, 0)
extrude "Extrude22" cut sketch "Sketch14" against normal blind 3 contours L1 L2 A1 L3 L4 L25
sketch "Sketch15" plane through (0, 0, 245) normal (0, 0, 1) x (1, 0, 0)
  line L0 (240, 0) -> (240, 15)
  line L1 (240, 15) -> (5, 15)
  line L2 (5, 15) -> (5, 0)
  line L3 (5, 0) -> (240, 0)
  line L4 (230, 15) -> (226, 15)
  line L5 (228, 15) -> (228, 13)
  circle A0 centre (228, 13) radius 2
  line L6 (226, 15) -> (226, 13)
  line L7 (230, 15) -> (230, 13)
  dimension "d110" = 4
  dimension "d111" = 2
extrude "Extrude23" cut sketch "Sketch15" against normal blind 8 contours L1 L4 A0 L7 | L1 L4 A0 L6 | A0
